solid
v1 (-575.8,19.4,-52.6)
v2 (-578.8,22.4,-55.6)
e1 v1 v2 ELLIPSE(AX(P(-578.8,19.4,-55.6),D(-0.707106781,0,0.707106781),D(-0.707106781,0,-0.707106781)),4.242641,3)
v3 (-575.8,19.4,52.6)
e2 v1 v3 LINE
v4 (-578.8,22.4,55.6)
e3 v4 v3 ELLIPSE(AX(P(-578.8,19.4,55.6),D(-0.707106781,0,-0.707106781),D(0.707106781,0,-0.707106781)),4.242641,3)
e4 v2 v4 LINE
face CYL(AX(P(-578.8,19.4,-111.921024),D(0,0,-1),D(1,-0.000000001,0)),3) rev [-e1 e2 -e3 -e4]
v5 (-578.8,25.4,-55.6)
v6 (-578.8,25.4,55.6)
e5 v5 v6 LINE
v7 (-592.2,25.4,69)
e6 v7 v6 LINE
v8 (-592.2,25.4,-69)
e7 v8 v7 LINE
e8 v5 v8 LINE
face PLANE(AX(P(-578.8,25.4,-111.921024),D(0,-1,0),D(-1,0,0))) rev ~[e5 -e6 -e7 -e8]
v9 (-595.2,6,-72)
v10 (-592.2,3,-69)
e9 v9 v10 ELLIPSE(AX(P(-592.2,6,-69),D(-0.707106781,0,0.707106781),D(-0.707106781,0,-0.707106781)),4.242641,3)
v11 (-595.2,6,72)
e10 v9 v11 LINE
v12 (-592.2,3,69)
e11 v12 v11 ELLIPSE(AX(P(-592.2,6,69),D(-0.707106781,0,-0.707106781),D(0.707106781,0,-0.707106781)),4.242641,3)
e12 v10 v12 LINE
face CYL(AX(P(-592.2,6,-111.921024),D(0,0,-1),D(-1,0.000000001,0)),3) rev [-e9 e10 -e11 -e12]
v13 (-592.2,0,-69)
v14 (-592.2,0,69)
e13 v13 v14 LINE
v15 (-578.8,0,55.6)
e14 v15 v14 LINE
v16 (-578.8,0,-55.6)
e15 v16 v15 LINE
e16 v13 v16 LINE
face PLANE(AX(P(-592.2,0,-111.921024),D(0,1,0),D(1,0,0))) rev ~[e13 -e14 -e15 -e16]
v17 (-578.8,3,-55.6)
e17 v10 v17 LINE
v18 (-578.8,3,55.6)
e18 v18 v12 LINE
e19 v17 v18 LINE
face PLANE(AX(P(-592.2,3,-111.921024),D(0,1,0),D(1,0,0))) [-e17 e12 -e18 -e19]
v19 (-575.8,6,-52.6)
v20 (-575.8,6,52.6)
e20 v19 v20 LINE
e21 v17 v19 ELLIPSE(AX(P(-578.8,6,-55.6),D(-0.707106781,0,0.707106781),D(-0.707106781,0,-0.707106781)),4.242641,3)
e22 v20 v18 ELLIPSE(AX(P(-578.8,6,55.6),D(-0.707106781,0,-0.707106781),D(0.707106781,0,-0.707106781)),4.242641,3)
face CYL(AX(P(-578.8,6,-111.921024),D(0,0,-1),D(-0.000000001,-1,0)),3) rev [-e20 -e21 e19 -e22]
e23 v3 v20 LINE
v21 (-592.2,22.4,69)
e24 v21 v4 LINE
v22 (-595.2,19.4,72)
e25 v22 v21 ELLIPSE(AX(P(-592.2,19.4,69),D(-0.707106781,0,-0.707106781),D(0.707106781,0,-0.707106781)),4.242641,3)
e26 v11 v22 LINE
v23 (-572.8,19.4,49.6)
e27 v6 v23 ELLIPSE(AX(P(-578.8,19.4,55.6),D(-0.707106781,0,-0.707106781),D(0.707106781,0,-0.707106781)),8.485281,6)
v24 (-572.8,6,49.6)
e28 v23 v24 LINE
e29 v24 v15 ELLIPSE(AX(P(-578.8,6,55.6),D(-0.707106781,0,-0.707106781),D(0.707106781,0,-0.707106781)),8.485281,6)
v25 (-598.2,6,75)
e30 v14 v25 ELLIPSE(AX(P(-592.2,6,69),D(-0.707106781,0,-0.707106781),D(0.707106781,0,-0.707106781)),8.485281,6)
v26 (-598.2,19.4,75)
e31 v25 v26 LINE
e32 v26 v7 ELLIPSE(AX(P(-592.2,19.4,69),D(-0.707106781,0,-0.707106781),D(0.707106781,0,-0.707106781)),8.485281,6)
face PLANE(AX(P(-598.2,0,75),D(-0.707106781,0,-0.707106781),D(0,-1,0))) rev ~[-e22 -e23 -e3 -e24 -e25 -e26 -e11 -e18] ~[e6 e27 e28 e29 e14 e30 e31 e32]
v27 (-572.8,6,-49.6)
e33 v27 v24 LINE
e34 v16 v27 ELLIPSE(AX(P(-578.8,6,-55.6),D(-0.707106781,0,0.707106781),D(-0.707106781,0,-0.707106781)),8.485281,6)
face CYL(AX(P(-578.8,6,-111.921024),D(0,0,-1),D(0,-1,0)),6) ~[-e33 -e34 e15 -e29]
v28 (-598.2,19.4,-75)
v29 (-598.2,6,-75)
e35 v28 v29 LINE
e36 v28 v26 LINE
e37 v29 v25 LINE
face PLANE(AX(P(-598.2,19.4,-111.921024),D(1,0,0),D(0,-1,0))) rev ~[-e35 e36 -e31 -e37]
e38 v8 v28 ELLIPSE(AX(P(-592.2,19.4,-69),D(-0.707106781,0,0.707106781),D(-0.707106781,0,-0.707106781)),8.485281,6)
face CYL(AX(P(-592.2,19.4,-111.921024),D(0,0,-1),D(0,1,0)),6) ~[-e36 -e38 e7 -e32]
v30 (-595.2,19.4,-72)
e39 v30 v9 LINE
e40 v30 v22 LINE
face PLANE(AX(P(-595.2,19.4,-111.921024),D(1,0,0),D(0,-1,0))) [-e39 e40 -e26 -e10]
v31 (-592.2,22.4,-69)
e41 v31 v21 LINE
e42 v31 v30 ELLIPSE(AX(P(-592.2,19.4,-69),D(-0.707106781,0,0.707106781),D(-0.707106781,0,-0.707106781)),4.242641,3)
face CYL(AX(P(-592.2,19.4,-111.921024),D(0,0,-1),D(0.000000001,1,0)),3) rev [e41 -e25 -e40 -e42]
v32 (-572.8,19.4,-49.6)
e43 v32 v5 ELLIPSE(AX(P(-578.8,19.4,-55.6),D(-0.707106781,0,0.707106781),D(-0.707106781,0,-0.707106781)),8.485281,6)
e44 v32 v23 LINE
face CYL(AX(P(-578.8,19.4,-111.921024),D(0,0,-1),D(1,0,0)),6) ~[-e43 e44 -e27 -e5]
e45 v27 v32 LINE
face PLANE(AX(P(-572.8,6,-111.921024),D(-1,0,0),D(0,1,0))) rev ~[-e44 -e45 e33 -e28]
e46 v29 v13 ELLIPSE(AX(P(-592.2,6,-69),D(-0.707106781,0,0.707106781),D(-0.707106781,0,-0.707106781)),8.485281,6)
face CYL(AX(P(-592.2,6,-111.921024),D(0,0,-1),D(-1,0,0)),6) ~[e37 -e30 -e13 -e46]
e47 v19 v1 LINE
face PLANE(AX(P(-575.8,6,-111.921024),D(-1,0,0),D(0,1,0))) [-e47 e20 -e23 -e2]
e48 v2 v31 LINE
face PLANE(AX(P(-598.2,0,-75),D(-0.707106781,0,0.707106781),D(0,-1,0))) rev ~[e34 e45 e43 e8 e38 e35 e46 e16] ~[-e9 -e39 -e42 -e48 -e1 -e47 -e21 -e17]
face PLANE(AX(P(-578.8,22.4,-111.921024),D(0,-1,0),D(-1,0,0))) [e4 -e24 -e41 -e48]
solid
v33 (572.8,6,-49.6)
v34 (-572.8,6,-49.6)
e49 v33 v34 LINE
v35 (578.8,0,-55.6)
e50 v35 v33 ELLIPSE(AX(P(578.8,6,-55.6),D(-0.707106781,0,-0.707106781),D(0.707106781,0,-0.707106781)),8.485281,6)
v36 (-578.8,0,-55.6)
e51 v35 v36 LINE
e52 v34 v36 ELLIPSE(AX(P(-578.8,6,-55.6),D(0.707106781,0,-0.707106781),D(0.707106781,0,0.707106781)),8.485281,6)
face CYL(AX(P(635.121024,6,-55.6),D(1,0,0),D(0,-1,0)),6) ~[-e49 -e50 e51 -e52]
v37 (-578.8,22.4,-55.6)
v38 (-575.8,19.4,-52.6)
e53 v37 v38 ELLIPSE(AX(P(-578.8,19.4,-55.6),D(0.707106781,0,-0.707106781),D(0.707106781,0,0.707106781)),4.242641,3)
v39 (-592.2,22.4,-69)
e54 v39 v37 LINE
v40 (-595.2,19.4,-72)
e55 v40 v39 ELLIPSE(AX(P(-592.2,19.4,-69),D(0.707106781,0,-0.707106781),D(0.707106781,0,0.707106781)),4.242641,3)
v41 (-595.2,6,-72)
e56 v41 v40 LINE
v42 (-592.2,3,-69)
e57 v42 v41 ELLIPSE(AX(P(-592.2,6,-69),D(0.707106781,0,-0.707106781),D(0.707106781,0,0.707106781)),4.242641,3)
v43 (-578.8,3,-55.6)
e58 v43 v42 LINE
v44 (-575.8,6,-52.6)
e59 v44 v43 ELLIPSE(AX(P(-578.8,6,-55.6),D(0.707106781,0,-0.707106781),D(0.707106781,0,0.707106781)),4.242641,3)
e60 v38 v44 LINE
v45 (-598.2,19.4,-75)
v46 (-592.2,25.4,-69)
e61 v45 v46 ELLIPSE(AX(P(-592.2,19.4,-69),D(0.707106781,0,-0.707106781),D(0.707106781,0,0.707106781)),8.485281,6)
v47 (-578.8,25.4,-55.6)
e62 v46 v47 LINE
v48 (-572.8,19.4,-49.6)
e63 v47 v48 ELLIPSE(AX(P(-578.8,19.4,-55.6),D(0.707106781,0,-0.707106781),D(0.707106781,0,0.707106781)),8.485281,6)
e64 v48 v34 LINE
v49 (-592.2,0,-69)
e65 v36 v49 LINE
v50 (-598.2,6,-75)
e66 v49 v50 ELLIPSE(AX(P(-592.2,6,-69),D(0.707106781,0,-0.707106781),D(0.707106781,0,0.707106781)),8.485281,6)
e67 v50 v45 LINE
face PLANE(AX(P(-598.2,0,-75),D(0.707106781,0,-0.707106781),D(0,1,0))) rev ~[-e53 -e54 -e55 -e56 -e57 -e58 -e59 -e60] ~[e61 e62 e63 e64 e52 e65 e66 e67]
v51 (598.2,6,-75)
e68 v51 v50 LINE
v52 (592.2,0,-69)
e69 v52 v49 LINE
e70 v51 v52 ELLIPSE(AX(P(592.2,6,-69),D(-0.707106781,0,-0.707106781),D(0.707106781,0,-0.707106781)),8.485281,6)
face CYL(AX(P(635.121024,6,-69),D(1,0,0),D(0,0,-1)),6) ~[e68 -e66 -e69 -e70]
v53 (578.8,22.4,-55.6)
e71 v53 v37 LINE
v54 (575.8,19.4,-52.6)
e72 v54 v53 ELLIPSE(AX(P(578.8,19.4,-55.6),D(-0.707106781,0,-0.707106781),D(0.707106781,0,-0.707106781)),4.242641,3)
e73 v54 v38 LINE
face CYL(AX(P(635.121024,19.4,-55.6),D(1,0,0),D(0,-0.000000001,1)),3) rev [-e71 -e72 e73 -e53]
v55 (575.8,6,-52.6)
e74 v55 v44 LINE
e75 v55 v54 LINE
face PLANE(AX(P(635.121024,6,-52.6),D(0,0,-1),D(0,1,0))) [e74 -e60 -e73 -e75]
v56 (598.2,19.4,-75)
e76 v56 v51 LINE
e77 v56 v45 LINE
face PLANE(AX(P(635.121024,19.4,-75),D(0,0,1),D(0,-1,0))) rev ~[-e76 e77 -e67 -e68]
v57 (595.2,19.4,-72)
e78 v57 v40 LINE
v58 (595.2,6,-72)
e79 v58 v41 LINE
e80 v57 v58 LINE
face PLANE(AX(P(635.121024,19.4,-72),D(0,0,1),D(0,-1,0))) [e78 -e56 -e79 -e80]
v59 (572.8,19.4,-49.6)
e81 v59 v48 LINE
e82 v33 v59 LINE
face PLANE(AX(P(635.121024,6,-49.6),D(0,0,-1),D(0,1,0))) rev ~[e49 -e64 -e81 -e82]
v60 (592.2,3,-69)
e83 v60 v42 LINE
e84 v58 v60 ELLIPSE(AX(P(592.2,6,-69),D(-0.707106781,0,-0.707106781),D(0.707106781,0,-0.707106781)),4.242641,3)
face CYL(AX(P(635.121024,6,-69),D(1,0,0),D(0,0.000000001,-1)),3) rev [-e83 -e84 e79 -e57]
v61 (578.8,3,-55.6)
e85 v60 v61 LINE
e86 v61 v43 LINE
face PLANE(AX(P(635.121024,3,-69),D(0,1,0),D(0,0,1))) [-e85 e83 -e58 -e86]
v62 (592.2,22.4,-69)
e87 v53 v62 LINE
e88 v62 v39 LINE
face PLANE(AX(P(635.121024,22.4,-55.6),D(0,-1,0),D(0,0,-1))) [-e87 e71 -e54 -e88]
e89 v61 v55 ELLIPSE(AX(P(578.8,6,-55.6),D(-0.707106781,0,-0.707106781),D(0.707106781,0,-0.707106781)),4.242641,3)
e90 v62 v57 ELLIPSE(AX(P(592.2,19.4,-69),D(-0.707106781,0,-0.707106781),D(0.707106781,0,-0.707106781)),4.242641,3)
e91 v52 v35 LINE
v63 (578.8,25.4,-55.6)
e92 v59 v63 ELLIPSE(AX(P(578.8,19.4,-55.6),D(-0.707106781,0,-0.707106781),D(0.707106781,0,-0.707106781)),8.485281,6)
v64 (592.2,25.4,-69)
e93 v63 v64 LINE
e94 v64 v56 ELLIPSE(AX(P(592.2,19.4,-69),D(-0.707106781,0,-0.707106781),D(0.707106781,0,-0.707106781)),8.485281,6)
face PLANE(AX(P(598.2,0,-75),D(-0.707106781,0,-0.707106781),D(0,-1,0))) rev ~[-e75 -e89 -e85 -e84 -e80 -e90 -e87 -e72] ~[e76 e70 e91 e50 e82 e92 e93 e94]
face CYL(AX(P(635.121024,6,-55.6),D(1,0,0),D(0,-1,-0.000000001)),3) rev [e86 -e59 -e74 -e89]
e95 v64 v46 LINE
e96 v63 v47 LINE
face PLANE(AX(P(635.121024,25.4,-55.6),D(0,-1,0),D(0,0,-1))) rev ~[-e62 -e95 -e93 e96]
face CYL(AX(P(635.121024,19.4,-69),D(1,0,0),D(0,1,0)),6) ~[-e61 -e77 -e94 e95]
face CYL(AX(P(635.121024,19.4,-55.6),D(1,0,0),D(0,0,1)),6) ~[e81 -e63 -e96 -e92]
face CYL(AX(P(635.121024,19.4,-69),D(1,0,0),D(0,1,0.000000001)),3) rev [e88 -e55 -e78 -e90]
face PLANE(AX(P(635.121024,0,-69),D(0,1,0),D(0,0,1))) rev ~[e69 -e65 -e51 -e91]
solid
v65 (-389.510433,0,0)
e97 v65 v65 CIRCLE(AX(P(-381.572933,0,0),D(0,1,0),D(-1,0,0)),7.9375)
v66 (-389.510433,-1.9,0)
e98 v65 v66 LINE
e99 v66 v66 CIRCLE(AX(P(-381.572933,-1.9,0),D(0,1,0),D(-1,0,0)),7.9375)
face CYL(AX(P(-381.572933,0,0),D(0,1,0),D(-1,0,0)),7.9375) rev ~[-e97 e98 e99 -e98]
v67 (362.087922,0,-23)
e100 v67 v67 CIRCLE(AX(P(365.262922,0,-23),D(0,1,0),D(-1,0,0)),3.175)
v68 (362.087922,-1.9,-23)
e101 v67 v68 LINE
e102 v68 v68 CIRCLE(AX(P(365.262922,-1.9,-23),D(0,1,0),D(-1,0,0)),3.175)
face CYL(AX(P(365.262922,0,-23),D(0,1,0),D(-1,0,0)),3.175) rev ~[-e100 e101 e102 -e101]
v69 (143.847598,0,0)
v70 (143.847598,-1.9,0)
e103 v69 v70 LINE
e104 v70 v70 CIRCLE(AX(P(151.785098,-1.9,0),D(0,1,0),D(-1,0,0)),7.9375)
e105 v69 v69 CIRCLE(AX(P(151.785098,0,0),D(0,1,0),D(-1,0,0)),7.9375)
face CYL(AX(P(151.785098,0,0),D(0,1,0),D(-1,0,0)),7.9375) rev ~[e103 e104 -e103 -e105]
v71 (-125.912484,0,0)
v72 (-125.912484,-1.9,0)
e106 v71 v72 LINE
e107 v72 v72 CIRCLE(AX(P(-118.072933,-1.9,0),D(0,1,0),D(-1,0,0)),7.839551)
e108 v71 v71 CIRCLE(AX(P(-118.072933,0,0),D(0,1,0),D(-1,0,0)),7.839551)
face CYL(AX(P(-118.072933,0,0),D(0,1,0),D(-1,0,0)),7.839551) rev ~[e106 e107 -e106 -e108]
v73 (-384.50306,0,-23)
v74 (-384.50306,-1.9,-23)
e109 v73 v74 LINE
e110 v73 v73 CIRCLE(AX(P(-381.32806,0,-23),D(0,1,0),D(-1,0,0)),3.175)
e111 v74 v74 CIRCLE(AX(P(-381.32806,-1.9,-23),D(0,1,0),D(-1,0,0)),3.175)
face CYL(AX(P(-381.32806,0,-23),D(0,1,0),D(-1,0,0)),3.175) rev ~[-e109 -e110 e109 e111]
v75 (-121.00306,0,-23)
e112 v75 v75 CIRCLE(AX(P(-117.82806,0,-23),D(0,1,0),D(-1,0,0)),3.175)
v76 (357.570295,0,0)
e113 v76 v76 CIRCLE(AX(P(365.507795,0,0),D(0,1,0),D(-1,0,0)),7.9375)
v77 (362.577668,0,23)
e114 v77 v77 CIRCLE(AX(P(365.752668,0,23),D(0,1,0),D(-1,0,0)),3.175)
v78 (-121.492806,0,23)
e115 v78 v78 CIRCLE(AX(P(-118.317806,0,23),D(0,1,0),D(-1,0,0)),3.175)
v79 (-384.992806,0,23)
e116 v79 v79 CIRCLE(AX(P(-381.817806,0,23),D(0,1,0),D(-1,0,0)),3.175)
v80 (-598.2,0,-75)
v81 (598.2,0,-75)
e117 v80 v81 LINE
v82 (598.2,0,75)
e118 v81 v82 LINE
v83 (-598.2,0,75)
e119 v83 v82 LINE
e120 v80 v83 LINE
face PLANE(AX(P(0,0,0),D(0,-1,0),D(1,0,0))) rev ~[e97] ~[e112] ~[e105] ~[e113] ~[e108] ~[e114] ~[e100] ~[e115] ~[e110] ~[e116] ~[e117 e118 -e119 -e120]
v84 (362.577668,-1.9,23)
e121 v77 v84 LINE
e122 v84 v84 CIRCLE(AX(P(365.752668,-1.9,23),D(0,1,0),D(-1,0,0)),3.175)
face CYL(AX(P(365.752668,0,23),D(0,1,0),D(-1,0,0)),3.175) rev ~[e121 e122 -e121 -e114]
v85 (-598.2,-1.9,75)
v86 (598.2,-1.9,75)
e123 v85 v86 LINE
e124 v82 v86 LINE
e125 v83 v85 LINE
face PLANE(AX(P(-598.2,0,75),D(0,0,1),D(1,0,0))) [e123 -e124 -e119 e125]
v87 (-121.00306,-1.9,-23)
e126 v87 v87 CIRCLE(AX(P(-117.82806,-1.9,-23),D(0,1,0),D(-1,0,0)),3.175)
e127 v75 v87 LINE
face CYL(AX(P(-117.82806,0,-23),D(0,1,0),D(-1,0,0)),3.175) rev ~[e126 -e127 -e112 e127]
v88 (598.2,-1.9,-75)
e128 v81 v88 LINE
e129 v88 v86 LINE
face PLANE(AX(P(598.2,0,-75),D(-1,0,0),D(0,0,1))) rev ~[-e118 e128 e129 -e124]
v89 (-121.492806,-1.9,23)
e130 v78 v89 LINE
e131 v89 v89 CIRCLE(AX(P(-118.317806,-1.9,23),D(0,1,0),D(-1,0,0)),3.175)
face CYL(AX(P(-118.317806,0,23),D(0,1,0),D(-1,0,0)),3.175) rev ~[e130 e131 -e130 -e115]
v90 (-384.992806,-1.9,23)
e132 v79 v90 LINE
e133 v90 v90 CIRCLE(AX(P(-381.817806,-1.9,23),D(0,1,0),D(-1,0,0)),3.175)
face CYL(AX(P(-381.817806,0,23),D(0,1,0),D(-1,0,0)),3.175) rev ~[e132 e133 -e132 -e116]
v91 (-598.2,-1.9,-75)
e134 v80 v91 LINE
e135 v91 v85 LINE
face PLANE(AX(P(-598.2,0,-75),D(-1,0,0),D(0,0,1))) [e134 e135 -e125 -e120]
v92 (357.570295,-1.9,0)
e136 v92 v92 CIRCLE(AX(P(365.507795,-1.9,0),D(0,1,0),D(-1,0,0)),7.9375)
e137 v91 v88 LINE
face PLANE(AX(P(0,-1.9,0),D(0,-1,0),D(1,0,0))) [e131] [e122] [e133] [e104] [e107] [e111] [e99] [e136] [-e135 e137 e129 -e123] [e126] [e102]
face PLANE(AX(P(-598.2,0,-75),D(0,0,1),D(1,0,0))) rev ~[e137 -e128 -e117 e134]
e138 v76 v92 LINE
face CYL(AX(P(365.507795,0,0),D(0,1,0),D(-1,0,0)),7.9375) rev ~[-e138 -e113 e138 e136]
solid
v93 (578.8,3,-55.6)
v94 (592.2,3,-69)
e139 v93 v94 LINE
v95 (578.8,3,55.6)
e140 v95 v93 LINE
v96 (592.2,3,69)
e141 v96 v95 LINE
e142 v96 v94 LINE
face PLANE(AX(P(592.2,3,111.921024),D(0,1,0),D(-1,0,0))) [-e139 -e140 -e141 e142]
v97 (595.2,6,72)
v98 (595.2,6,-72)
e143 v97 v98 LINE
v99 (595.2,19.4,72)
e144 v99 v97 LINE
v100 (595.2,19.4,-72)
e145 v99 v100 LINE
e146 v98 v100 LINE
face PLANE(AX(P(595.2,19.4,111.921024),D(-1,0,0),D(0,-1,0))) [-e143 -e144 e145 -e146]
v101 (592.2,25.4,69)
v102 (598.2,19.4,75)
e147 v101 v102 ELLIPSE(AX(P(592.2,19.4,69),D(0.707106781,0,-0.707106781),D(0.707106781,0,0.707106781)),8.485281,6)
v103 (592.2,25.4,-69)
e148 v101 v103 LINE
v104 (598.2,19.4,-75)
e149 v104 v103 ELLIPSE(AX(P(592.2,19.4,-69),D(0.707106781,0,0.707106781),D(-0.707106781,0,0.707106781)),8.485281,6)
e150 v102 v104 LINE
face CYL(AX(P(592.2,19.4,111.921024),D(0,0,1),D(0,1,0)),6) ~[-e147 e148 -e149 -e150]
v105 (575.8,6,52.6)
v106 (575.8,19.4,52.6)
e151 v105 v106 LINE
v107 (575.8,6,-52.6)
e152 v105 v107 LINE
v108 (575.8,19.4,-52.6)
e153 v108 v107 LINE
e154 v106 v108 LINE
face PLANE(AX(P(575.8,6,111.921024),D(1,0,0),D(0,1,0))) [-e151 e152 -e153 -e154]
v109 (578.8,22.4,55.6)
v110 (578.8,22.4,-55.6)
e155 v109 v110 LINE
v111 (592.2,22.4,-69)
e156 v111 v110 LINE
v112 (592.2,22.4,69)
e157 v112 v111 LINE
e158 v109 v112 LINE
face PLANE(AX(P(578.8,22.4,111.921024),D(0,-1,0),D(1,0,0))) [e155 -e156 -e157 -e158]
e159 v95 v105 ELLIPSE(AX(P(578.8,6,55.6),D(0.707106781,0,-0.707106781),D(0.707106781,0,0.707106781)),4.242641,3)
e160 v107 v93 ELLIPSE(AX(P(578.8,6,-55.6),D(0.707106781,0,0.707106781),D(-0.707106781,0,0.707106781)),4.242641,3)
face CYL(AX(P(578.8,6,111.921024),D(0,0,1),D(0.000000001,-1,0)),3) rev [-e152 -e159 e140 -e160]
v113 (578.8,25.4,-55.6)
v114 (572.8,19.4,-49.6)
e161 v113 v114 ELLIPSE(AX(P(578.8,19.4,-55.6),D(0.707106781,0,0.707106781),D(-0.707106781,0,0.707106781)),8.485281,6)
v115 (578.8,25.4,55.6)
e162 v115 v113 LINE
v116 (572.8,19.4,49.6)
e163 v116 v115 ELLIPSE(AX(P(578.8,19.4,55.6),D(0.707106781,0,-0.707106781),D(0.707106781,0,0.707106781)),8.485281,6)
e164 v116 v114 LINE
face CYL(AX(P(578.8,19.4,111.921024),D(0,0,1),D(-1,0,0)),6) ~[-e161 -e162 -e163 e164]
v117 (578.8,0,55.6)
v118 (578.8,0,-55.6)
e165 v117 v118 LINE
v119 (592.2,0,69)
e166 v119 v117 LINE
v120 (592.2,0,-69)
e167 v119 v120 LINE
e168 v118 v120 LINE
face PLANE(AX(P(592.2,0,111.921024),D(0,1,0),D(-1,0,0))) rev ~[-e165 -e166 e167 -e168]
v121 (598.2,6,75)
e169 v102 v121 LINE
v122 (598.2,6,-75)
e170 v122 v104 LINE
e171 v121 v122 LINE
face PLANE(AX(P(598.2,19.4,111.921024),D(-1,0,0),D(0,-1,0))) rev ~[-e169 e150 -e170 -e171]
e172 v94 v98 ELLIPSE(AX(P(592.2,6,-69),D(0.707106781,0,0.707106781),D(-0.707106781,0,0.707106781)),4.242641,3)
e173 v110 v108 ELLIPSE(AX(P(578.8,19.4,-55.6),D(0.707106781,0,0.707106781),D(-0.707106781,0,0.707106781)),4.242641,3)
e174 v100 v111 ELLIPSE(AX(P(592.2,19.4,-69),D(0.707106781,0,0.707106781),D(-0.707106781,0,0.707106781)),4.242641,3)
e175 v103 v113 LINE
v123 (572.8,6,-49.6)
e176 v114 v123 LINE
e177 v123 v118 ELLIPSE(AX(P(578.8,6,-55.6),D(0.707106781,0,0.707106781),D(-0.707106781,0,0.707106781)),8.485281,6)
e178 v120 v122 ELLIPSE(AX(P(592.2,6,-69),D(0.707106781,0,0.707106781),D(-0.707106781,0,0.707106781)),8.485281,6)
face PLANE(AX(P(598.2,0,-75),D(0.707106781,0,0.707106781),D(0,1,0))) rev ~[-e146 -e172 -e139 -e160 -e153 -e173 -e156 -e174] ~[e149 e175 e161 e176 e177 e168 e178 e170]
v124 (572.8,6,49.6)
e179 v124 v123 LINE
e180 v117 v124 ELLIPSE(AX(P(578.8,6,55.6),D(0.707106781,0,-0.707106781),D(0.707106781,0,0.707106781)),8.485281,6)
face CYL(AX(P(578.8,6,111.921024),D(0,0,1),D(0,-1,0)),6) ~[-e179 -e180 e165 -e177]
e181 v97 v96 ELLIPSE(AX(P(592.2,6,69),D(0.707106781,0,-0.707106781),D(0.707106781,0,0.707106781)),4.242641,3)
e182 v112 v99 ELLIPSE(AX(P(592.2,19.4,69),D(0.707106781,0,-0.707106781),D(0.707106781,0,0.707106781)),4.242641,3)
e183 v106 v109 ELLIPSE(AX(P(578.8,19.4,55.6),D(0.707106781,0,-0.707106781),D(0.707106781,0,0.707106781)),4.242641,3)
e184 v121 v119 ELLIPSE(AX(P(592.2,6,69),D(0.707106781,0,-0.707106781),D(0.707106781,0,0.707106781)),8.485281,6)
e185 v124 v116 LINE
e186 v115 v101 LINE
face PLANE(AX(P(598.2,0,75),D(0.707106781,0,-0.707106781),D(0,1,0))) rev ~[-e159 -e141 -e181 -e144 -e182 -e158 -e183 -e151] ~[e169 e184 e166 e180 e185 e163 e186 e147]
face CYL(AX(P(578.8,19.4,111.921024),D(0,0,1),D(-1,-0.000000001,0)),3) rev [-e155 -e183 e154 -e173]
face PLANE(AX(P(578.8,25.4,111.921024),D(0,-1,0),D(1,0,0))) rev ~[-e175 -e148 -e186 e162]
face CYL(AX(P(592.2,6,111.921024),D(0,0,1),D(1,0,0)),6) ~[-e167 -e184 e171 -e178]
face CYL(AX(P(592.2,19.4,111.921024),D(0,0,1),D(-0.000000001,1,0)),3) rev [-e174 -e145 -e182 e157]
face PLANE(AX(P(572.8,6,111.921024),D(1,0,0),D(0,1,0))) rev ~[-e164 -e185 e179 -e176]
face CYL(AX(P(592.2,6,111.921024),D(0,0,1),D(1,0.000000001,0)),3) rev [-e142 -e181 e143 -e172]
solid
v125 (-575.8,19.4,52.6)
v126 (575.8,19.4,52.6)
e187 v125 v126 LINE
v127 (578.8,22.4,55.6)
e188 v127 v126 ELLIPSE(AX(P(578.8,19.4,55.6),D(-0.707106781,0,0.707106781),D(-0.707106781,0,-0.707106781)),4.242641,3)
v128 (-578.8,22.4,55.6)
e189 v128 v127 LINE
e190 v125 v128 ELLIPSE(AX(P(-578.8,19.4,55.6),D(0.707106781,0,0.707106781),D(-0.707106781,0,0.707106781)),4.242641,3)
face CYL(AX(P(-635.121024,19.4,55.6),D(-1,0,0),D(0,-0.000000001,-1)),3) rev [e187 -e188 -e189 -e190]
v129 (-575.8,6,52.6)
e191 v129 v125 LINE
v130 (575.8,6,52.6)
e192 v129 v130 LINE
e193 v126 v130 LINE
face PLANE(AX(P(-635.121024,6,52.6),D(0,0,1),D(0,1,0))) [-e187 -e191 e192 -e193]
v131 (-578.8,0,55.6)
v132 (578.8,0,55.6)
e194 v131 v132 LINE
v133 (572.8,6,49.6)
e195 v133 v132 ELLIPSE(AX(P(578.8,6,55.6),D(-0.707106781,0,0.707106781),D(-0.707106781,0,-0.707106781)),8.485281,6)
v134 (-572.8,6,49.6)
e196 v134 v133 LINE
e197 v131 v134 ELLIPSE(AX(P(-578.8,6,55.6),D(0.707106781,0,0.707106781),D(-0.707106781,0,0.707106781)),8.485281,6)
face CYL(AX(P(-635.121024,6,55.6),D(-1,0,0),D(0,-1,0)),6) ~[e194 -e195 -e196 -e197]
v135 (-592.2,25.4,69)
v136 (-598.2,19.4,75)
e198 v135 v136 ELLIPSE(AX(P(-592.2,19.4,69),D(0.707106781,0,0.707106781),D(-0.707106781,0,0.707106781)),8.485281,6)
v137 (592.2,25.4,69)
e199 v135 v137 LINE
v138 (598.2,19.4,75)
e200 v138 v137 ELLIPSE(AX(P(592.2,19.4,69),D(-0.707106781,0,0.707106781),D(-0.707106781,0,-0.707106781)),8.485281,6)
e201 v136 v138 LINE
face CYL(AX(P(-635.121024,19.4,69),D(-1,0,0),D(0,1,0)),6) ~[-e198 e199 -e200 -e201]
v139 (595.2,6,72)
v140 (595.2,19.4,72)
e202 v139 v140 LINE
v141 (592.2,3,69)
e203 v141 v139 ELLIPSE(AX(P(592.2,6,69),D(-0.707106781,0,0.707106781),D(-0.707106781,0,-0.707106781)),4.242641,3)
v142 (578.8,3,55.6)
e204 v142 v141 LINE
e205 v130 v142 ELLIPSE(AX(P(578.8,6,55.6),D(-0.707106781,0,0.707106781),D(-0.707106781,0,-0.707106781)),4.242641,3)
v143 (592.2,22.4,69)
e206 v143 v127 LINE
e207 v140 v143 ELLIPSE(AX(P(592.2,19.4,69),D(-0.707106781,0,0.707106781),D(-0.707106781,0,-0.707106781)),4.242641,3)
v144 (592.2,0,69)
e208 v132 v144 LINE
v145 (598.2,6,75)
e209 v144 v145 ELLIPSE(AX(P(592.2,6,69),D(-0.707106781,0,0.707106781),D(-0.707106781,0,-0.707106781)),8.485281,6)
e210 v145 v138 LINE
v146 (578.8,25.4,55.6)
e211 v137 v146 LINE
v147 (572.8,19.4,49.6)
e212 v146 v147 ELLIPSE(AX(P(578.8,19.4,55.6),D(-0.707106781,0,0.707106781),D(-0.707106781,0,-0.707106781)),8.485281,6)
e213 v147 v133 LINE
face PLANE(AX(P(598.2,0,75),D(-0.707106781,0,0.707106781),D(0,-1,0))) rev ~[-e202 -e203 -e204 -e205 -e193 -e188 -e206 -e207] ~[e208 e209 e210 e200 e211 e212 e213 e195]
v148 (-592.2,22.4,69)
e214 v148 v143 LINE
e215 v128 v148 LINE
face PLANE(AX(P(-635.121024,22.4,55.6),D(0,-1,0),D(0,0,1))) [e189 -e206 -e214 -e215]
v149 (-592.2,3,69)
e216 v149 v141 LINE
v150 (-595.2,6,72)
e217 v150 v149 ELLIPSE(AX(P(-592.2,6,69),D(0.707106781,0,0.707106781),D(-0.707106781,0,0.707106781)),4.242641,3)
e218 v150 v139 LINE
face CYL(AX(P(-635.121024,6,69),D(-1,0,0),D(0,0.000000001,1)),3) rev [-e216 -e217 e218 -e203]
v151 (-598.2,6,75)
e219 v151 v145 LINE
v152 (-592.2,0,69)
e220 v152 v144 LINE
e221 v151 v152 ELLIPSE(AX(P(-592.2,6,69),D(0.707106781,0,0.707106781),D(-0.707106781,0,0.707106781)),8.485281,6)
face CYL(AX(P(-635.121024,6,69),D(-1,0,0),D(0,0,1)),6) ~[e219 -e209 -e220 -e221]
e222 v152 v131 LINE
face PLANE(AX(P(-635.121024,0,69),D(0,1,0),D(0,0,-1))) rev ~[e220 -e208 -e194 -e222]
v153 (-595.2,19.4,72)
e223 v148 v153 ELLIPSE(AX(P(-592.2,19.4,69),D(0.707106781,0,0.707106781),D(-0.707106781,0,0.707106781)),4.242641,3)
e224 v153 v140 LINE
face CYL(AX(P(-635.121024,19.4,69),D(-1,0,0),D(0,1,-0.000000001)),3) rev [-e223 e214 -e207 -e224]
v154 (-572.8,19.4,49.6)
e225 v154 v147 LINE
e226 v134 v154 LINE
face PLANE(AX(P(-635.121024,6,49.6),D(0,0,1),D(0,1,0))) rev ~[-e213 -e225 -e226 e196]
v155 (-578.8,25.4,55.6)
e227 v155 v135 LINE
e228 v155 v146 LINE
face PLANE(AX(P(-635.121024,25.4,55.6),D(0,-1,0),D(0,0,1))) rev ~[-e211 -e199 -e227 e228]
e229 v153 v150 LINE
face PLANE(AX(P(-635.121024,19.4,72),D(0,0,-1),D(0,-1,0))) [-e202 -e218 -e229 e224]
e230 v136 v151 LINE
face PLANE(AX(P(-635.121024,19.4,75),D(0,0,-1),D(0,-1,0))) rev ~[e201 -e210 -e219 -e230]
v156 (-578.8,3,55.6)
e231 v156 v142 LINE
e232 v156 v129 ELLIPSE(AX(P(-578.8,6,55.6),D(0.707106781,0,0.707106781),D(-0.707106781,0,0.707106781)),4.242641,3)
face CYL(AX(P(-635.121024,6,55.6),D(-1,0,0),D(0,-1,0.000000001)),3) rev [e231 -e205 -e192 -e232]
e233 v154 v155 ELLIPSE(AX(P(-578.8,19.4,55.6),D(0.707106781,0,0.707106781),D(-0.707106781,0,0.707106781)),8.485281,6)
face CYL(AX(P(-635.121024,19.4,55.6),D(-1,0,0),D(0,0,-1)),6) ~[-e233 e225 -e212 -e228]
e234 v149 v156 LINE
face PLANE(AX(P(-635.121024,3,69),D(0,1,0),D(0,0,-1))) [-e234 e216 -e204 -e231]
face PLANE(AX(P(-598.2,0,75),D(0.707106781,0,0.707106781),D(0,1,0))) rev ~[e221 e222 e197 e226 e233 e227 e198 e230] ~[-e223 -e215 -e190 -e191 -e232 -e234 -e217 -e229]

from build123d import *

# Parameters (mm, degrees)
TUBO_CUADRADO_2_X_2_X_0_25_1_DEPTH      = 186.921024484
TUBO_CUADRADO_2_X_2_X_0_25_1_DEPTH_BACK = 36.921024484
TUBO_CUADRADO_2_X_2_X_0_25_1_2_DEPTH    = 1270.242048969
TUBO_CUADRADO_2_X_2_X_0_25_1_3_DEPTH    = 223.842048969
TUBO_CUADRADO_2_X_2_X_0_25_1_4_DEPTH    = 1270.242048969
CROQUIS3_W                              = 1196.4
CROQUIS3_H                              = 150
SALIENTE_EXTRUIR1_DEPTH                 = 1.9
CROQUIS4_R                              = 3.175
CROQUIS4_R_2                            = 7.9375
CROQUIS4_R_3                            = 7.839550791
CORTAR_EXTRUIR1_DEPTH                   = 63.5


with BuildPart() as part:
    # Sketch1 → Tubo cuadrado 2 X 2 X 0.25(1) (new, two sides: drawn at the far end of the back side and taken through both)
    with BuildSketch(Plane(origin=(-585.5, 12.7, -75), x_dir=(1, 0, 0), z_dir=(0, 0, 1)).offset(-TUBO_CUADRADO_2_X_2_X_0_25_1_DEPTH_BACK)):
        with BuildLine():
            Line((-6.7, -12.7), (6.7, -12.7))
            ThreePointArc((6.7, -12.7), (10.942640687, -10.942640687), (12.7, -6.7))
            Line((12.7, -6.7), (12.7, 6.7))
            ThreePointArc((12.7, 6.7), (10.942640687, 10.942640687), (6.7, 12.7))
            Line((6.7, 12.7), (-6.7, 12.7))
            ThreePointArc((-6.7, 12.7), (-10.942640687, 10.942640687), (-12.7, 6.7))
            Line((-12.7, 6.7), (-12.7, -6.7))
            ThreePointArc((-12.7, -6.7), (-10.942640687, -10.942640687), (-6.7, -12.7))
        make_face()
        with BuildLine():
            Line((-6.7, -9.7), (6.7, -9.7))
            ThreePointArc((6.7, -9.7), (8.821320344, -8.821320344), (9.7, -6.7))
            Line((9.7, -6.7), (9.7, 6.7))
            ThreePointArc((9.7, 6.7), (8.821320344, 8.821320344), (6.7, 9.7))
            Line((6.7, 9.7), (-6.7, 9.7))
            ThreePointArc((-6.7, 9.7), (-8.821320344, 8.821320344), (-9.7, 6.7))
            Line((-9.7, 6.7), (-9.7, -6.7))
            ThreePointArc((-9.7, -6.7), (-8.821320344, -8.821320344), (-6.7, -9.7))
        make_face(mode=Mode.SUBTRACT)
    extrude(amount=TUBO_CUADRADO_2_X_2_X_0_25_1_DEPTH + TUBO_CUADRADO_2_X_2_X_0_25_1_DEPTH_BACK)

    # Tubo cuadrado 2 X 2 X 0.25(1) mitre 1
    split(bisect_by=Plane(origin=(-598.2, 0, -75), x_dir=(0, -1, 0), z_dir=(-0.707106781, 0, 0.707106781)), keep=Keep.TOP)

    # Tubo cuadrado 2 X 2 X 0.25(1) mitre 2
    split(bisect_by=Plane(origin=(-598.2, 0, 75), x_dir=(0, -1, 0), z_dir=(-0.707106781, 0, -0.707106781)), keep=Keep.TOP)


with BuildPart() as body_2:
    # Sketch1 on segment 2 (carried to segment 2) → Tubo cuadrado 2 X 2 X 0.25_1 2 (new body)
    with BuildSketch(Plane(origin=(-635.121024484, 12.7, 62.3), x_dir=(0, 0, -1), z_dir=(1, 0, 0))):
        with BuildLine():
            Line((-6.7, -12.7), (6.7, -12.7))
            ThreePointArc((6.7, -12.7), (10.942640687, -10.942640687), (12.7, -6.7))
            Line((12.7, -6.7), (12.7, 6.7))
            ThreePointArc((12.7, 6.7), (10.942640687, 10.942640687), (6.7, 12.7))
            Line((6.7, 12.7), (-6.7, 12.7))
            ThreePointArc((-6.7, 12.7), (-10.942640687, 10.942640687), (-12.7, 6.7))
            Line((-12.7, 6.7), (-12.7, -6.7))
            ThreePointArc((-12.7, -6.7), (-10.942640687, -10.942640687), (-6.7, -12.7))
        make_face()
        with BuildLine():
            Line((-6.7, -9.7), (6.7, -9.7))
            ThreePointArc((6.7, -9.7), (8.821320344, -8.821320344), (9.7, -6.7))
            Line((9.7, -6.7), (9.7, 6.7))
            ThreePointArc((9.7, 6.7), (8.821320344, 8.821320344), (6.7, 9.7))
            Line((6.7, 9.7), (-6.7, 9.7))
            ThreePointArc((-6.7, 9.7), (-8.821320344, 8.821320344), (-9.7, 6.7))
            Line((-9.7, 6.7), (-9.7, -6.7))
            ThreePointArc((-9.7, -6.7), (-8.821320344, -8.821320344), (-6.7, -9.7))
        make_face(mode=Mode.SUBTRACT)
    extrude(amount=TUBO_CUADRADO_2_X_2_X_0_25_1_2_DEPTH)

    # Tubo cuadrado 2 X 2 X 0.25_1 2 mitre 1
    split(bisect_by=Plane(origin=(-598.2, 0, 75), x_dir=(0, 1, 0), z_dir=(0.707106781, 0, 0.707106781)), keep=Keep.TOP)

    # Tubo cuadrado 2 X 2 X 0.25_1 2 mitre 2
    split(bisect_by=Plane(origin=(598.2, 0, 75), x_dir=(0, -1, 0), z_dir=(-0.707106781, 0, 0.707106781)), keep=Keep.TOP)


with BuildPart() as body_3:
    # Sketch1 on segment 3 (carried to segment 3) → Tubo cuadrado 2 X 2 X 0.25_1 3 (new body)
    with BuildSketch(Plane(origin=(585.5, 12.7, 111.921024484), x_dir=(-1, 0, 0), z_dir=(0, 0, -1))):
        with BuildLine():
            Line((-6.7, -12.7), (6.7, -12.7))
            ThreePointArc((6.7, -12.7), (10.942640687, -10.942640687), (12.7, -6.7))
            Line((12.7, -6.7), (12.7, 6.7))
            ThreePointArc((12.7, 6.7), (10.942640687, 10.942640687), (6.7, 12.7))
            Line((6.7, 12.7), (-6.7, 12.7))
            ThreePointArc((-6.7, 12.7), (-10.942640687, 10.942640687), (-12.7, 6.7))
            Line((-12.7, 6.7), (-12.7, -6.7))
            ThreePointArc((-12.7, -6.7), (-10.942640687, -10.942640687), (-6.7, -12.7))
        make_face()
        with BuildLine():
            Line((-6.7, -9.7), (6.7, -9.7))
            ThreePointArc((6.7, -9.7), (8.821320344, -8.821320344), (9.7, -6.7))
            Line((9.7, -6.7), (9.7, 6.7))
            ThreePointArc((9.7, 6.7), (8.821320344, 8.821320344), (6.7, 9.7))
            Line((6.7, 9.7), (-6.7, 9.7))
            ThreePointArc((-6.7, 9.7), (-8.821320344, 8.821320344), (-9.7, 6.7))
            Line((-9.7, 6.7), (-9.7, -6.7))
            ThreePointArc((-9.7, -6.7), (-8.821320344, -8.821320344), (-6.7, -9.7))
        make_face(mode=Mode.SUBTRACT)
    extrude(amount=TUBO_CUADRADO_2_X_2_X_0_25_1_3_DEPTH)

    # Tubo cuadrado 2 X 2 X 0.25_1 3 mitre 1
    split(bisect_by=Plane(origin=(598.2, 0, -75), x_dir=(0, 1, 0), z_dir=(0.707106781, 0, 0.707106781)), keep=Keep.TOP)

    # Tubo cuadrado 2 X 2 X 0.25_1 3 mitre 2
    split(bisect_by=Plane(origin=(598.2, 0, 75), x_dir=(0, 1, 0), z_dir=(0.707106781, 0, -0.707106781)), keep=Keep.TOP)


with BuildPart() as body_4:
    # Sketch1 on segment 4 (carried to segment 4) → Tubo cuadrado 2 X 2 X 0.25_1 4 (new body)
    with BuildSketch(Plane(origin=(635.121024484, 12.7, -62.3), x_dir=(0, 0, 1), z_dir=(-1, 0, 0))):
        with BuildLine():
            Line((-6.7, -12.7), (6.7, -12.7))
            ThreePointArc((6.7, -12.7), (10.942640687, -10.942640687), (12.7, -6.7))
            Line((12.7, -6.7), (12.7, 6.7))
            ThreePointArc((12.7, 6.7), (10.942640687, 10.942640687), (6.7, 12.7))
            Line((6.7, 12.7), (-6.7, 12.7))
            ThreePointArc((-6.7, 12.7), (-10.942640687, 10.942640687), (-12.7, 6.7))
            Line((-12.7, 6.7), (-12.7, -6.7))
            ThreePointArc((-12.7, -6.7), (-10.942640687, -10.942640687), (-6.7, -12.7))
        make_face()
        with BuildLine():
            Line((-6.7, -9.7), (6.7, -9.7))
            ThreePointArc((6.7, -9.7), (8.821320344, -8.821320344), (9.7, -6.7))
            Line((9.7, -6.7), (9.7, 6.7))
            ThreePointArc((9.7, 6.7), (8.821320344, 8.821320344), (6.7, 9.7))
            Line((6.7, 9.7), (-6.7, 9.7))
            ThreePointArc((-6.7, 9.7), (-8.821320344, 8.821320344), (-9.7, 6.7))
            Line((-9.7, 6.7), (-9.7, -6.7))
            ThreePointArc((-9.7, -6.7), (-8.821320344, -8.821320344), (-6.7, -9.7))
        make_face(mode=Mode.SUBTRACT)
    extrude(amount=TUBO_CUADRADO_2_X_2_X_0_25_1_4_DEPTH)

    # Tubo cuadrado 2 X 2 X 0.25_1 4 mitre 1
    split(bisect_by=Plane(origin=(-598.2, 0, -75), x_dir=(0, 1, 0), z_dir=(0.707106781, 0, -0.707106781)), keep=Keep.TOP)

    # Tubo cuadrado 2 X 2 X 0.25_1 4 mitre 2
    split(bisect_by=Plane(origin=(598.2, 0, -75), x_dir=(0, -1, 0), z_dir=(-0.707106781, 0, -0.707106781)), keep=Keep.TOP)


with BuildPart() as body_5:
    # Croquis3 → Saliente-Extruir1 (new body)
    with BuildSketch(Plane.XZ):
        Rectangle(CROQUIS3_W, CROQUIS3_H)
    extrude(amount=SALIENTE_EXTRUIR1_DEPTH)

    # Croquis4 → Cortar-Extruir1 (cut)
    with BuildSketch(Plane(origin=(0, 0, 0), x_dir=(1, 0, 0), z_dir=(0, 1, 0))):
        with Locations(Location((-381.328059978, 23, 0), (0, 0, 180))):
            Circle(CROQUIS4_R)
        with Locations(Location((-381.572933, 0, 0), (0, 0, 180))):
            Circle(CROQUIS4_R_2)
        with Locations(Location((-381.817806022, -23, 0), (0, 0, 180))):
            Circle(CROQUIS4_R)
        with Locations(Location((-118.072933, 0, 0), (0, 0, 180))):
            Circle(CROQUIS4_R_3)
        with Locations(Location((-117.828059978, 23, 0), (0, 0, 180))):
            Circle(CROQUIS4_R)
        with Locations(Location((-118.317806022, -23, 0), (0, 0, 180))):
            Circle(CROQUIS4_R)
        with Locations(Location((151.785097887, 0, 0), (0, 0, 180))):
            Circle(CROQUIS4_R_2)
        with Locations(Location((365.507795334, 0, 0), (0, 0, 180))):
            Circle(CROQUIS4_R_2)
        with Locations(Location((365.262922313, 23, 0), (0, 0, 180))):
            Circle(CROQUIS4_R)
        with Locations(Location((365.752668356, -23, 0), (0, 0, 180))):
            Circle(CROQUIS4_R)
    extrude(amount=-CORTAR_EXTRUIR1_DEPTH, mode=Mode.SUBTRACT)


solid = Compound([part.part, body_2.part, body_3.part, body_4.part, body_5.part])
